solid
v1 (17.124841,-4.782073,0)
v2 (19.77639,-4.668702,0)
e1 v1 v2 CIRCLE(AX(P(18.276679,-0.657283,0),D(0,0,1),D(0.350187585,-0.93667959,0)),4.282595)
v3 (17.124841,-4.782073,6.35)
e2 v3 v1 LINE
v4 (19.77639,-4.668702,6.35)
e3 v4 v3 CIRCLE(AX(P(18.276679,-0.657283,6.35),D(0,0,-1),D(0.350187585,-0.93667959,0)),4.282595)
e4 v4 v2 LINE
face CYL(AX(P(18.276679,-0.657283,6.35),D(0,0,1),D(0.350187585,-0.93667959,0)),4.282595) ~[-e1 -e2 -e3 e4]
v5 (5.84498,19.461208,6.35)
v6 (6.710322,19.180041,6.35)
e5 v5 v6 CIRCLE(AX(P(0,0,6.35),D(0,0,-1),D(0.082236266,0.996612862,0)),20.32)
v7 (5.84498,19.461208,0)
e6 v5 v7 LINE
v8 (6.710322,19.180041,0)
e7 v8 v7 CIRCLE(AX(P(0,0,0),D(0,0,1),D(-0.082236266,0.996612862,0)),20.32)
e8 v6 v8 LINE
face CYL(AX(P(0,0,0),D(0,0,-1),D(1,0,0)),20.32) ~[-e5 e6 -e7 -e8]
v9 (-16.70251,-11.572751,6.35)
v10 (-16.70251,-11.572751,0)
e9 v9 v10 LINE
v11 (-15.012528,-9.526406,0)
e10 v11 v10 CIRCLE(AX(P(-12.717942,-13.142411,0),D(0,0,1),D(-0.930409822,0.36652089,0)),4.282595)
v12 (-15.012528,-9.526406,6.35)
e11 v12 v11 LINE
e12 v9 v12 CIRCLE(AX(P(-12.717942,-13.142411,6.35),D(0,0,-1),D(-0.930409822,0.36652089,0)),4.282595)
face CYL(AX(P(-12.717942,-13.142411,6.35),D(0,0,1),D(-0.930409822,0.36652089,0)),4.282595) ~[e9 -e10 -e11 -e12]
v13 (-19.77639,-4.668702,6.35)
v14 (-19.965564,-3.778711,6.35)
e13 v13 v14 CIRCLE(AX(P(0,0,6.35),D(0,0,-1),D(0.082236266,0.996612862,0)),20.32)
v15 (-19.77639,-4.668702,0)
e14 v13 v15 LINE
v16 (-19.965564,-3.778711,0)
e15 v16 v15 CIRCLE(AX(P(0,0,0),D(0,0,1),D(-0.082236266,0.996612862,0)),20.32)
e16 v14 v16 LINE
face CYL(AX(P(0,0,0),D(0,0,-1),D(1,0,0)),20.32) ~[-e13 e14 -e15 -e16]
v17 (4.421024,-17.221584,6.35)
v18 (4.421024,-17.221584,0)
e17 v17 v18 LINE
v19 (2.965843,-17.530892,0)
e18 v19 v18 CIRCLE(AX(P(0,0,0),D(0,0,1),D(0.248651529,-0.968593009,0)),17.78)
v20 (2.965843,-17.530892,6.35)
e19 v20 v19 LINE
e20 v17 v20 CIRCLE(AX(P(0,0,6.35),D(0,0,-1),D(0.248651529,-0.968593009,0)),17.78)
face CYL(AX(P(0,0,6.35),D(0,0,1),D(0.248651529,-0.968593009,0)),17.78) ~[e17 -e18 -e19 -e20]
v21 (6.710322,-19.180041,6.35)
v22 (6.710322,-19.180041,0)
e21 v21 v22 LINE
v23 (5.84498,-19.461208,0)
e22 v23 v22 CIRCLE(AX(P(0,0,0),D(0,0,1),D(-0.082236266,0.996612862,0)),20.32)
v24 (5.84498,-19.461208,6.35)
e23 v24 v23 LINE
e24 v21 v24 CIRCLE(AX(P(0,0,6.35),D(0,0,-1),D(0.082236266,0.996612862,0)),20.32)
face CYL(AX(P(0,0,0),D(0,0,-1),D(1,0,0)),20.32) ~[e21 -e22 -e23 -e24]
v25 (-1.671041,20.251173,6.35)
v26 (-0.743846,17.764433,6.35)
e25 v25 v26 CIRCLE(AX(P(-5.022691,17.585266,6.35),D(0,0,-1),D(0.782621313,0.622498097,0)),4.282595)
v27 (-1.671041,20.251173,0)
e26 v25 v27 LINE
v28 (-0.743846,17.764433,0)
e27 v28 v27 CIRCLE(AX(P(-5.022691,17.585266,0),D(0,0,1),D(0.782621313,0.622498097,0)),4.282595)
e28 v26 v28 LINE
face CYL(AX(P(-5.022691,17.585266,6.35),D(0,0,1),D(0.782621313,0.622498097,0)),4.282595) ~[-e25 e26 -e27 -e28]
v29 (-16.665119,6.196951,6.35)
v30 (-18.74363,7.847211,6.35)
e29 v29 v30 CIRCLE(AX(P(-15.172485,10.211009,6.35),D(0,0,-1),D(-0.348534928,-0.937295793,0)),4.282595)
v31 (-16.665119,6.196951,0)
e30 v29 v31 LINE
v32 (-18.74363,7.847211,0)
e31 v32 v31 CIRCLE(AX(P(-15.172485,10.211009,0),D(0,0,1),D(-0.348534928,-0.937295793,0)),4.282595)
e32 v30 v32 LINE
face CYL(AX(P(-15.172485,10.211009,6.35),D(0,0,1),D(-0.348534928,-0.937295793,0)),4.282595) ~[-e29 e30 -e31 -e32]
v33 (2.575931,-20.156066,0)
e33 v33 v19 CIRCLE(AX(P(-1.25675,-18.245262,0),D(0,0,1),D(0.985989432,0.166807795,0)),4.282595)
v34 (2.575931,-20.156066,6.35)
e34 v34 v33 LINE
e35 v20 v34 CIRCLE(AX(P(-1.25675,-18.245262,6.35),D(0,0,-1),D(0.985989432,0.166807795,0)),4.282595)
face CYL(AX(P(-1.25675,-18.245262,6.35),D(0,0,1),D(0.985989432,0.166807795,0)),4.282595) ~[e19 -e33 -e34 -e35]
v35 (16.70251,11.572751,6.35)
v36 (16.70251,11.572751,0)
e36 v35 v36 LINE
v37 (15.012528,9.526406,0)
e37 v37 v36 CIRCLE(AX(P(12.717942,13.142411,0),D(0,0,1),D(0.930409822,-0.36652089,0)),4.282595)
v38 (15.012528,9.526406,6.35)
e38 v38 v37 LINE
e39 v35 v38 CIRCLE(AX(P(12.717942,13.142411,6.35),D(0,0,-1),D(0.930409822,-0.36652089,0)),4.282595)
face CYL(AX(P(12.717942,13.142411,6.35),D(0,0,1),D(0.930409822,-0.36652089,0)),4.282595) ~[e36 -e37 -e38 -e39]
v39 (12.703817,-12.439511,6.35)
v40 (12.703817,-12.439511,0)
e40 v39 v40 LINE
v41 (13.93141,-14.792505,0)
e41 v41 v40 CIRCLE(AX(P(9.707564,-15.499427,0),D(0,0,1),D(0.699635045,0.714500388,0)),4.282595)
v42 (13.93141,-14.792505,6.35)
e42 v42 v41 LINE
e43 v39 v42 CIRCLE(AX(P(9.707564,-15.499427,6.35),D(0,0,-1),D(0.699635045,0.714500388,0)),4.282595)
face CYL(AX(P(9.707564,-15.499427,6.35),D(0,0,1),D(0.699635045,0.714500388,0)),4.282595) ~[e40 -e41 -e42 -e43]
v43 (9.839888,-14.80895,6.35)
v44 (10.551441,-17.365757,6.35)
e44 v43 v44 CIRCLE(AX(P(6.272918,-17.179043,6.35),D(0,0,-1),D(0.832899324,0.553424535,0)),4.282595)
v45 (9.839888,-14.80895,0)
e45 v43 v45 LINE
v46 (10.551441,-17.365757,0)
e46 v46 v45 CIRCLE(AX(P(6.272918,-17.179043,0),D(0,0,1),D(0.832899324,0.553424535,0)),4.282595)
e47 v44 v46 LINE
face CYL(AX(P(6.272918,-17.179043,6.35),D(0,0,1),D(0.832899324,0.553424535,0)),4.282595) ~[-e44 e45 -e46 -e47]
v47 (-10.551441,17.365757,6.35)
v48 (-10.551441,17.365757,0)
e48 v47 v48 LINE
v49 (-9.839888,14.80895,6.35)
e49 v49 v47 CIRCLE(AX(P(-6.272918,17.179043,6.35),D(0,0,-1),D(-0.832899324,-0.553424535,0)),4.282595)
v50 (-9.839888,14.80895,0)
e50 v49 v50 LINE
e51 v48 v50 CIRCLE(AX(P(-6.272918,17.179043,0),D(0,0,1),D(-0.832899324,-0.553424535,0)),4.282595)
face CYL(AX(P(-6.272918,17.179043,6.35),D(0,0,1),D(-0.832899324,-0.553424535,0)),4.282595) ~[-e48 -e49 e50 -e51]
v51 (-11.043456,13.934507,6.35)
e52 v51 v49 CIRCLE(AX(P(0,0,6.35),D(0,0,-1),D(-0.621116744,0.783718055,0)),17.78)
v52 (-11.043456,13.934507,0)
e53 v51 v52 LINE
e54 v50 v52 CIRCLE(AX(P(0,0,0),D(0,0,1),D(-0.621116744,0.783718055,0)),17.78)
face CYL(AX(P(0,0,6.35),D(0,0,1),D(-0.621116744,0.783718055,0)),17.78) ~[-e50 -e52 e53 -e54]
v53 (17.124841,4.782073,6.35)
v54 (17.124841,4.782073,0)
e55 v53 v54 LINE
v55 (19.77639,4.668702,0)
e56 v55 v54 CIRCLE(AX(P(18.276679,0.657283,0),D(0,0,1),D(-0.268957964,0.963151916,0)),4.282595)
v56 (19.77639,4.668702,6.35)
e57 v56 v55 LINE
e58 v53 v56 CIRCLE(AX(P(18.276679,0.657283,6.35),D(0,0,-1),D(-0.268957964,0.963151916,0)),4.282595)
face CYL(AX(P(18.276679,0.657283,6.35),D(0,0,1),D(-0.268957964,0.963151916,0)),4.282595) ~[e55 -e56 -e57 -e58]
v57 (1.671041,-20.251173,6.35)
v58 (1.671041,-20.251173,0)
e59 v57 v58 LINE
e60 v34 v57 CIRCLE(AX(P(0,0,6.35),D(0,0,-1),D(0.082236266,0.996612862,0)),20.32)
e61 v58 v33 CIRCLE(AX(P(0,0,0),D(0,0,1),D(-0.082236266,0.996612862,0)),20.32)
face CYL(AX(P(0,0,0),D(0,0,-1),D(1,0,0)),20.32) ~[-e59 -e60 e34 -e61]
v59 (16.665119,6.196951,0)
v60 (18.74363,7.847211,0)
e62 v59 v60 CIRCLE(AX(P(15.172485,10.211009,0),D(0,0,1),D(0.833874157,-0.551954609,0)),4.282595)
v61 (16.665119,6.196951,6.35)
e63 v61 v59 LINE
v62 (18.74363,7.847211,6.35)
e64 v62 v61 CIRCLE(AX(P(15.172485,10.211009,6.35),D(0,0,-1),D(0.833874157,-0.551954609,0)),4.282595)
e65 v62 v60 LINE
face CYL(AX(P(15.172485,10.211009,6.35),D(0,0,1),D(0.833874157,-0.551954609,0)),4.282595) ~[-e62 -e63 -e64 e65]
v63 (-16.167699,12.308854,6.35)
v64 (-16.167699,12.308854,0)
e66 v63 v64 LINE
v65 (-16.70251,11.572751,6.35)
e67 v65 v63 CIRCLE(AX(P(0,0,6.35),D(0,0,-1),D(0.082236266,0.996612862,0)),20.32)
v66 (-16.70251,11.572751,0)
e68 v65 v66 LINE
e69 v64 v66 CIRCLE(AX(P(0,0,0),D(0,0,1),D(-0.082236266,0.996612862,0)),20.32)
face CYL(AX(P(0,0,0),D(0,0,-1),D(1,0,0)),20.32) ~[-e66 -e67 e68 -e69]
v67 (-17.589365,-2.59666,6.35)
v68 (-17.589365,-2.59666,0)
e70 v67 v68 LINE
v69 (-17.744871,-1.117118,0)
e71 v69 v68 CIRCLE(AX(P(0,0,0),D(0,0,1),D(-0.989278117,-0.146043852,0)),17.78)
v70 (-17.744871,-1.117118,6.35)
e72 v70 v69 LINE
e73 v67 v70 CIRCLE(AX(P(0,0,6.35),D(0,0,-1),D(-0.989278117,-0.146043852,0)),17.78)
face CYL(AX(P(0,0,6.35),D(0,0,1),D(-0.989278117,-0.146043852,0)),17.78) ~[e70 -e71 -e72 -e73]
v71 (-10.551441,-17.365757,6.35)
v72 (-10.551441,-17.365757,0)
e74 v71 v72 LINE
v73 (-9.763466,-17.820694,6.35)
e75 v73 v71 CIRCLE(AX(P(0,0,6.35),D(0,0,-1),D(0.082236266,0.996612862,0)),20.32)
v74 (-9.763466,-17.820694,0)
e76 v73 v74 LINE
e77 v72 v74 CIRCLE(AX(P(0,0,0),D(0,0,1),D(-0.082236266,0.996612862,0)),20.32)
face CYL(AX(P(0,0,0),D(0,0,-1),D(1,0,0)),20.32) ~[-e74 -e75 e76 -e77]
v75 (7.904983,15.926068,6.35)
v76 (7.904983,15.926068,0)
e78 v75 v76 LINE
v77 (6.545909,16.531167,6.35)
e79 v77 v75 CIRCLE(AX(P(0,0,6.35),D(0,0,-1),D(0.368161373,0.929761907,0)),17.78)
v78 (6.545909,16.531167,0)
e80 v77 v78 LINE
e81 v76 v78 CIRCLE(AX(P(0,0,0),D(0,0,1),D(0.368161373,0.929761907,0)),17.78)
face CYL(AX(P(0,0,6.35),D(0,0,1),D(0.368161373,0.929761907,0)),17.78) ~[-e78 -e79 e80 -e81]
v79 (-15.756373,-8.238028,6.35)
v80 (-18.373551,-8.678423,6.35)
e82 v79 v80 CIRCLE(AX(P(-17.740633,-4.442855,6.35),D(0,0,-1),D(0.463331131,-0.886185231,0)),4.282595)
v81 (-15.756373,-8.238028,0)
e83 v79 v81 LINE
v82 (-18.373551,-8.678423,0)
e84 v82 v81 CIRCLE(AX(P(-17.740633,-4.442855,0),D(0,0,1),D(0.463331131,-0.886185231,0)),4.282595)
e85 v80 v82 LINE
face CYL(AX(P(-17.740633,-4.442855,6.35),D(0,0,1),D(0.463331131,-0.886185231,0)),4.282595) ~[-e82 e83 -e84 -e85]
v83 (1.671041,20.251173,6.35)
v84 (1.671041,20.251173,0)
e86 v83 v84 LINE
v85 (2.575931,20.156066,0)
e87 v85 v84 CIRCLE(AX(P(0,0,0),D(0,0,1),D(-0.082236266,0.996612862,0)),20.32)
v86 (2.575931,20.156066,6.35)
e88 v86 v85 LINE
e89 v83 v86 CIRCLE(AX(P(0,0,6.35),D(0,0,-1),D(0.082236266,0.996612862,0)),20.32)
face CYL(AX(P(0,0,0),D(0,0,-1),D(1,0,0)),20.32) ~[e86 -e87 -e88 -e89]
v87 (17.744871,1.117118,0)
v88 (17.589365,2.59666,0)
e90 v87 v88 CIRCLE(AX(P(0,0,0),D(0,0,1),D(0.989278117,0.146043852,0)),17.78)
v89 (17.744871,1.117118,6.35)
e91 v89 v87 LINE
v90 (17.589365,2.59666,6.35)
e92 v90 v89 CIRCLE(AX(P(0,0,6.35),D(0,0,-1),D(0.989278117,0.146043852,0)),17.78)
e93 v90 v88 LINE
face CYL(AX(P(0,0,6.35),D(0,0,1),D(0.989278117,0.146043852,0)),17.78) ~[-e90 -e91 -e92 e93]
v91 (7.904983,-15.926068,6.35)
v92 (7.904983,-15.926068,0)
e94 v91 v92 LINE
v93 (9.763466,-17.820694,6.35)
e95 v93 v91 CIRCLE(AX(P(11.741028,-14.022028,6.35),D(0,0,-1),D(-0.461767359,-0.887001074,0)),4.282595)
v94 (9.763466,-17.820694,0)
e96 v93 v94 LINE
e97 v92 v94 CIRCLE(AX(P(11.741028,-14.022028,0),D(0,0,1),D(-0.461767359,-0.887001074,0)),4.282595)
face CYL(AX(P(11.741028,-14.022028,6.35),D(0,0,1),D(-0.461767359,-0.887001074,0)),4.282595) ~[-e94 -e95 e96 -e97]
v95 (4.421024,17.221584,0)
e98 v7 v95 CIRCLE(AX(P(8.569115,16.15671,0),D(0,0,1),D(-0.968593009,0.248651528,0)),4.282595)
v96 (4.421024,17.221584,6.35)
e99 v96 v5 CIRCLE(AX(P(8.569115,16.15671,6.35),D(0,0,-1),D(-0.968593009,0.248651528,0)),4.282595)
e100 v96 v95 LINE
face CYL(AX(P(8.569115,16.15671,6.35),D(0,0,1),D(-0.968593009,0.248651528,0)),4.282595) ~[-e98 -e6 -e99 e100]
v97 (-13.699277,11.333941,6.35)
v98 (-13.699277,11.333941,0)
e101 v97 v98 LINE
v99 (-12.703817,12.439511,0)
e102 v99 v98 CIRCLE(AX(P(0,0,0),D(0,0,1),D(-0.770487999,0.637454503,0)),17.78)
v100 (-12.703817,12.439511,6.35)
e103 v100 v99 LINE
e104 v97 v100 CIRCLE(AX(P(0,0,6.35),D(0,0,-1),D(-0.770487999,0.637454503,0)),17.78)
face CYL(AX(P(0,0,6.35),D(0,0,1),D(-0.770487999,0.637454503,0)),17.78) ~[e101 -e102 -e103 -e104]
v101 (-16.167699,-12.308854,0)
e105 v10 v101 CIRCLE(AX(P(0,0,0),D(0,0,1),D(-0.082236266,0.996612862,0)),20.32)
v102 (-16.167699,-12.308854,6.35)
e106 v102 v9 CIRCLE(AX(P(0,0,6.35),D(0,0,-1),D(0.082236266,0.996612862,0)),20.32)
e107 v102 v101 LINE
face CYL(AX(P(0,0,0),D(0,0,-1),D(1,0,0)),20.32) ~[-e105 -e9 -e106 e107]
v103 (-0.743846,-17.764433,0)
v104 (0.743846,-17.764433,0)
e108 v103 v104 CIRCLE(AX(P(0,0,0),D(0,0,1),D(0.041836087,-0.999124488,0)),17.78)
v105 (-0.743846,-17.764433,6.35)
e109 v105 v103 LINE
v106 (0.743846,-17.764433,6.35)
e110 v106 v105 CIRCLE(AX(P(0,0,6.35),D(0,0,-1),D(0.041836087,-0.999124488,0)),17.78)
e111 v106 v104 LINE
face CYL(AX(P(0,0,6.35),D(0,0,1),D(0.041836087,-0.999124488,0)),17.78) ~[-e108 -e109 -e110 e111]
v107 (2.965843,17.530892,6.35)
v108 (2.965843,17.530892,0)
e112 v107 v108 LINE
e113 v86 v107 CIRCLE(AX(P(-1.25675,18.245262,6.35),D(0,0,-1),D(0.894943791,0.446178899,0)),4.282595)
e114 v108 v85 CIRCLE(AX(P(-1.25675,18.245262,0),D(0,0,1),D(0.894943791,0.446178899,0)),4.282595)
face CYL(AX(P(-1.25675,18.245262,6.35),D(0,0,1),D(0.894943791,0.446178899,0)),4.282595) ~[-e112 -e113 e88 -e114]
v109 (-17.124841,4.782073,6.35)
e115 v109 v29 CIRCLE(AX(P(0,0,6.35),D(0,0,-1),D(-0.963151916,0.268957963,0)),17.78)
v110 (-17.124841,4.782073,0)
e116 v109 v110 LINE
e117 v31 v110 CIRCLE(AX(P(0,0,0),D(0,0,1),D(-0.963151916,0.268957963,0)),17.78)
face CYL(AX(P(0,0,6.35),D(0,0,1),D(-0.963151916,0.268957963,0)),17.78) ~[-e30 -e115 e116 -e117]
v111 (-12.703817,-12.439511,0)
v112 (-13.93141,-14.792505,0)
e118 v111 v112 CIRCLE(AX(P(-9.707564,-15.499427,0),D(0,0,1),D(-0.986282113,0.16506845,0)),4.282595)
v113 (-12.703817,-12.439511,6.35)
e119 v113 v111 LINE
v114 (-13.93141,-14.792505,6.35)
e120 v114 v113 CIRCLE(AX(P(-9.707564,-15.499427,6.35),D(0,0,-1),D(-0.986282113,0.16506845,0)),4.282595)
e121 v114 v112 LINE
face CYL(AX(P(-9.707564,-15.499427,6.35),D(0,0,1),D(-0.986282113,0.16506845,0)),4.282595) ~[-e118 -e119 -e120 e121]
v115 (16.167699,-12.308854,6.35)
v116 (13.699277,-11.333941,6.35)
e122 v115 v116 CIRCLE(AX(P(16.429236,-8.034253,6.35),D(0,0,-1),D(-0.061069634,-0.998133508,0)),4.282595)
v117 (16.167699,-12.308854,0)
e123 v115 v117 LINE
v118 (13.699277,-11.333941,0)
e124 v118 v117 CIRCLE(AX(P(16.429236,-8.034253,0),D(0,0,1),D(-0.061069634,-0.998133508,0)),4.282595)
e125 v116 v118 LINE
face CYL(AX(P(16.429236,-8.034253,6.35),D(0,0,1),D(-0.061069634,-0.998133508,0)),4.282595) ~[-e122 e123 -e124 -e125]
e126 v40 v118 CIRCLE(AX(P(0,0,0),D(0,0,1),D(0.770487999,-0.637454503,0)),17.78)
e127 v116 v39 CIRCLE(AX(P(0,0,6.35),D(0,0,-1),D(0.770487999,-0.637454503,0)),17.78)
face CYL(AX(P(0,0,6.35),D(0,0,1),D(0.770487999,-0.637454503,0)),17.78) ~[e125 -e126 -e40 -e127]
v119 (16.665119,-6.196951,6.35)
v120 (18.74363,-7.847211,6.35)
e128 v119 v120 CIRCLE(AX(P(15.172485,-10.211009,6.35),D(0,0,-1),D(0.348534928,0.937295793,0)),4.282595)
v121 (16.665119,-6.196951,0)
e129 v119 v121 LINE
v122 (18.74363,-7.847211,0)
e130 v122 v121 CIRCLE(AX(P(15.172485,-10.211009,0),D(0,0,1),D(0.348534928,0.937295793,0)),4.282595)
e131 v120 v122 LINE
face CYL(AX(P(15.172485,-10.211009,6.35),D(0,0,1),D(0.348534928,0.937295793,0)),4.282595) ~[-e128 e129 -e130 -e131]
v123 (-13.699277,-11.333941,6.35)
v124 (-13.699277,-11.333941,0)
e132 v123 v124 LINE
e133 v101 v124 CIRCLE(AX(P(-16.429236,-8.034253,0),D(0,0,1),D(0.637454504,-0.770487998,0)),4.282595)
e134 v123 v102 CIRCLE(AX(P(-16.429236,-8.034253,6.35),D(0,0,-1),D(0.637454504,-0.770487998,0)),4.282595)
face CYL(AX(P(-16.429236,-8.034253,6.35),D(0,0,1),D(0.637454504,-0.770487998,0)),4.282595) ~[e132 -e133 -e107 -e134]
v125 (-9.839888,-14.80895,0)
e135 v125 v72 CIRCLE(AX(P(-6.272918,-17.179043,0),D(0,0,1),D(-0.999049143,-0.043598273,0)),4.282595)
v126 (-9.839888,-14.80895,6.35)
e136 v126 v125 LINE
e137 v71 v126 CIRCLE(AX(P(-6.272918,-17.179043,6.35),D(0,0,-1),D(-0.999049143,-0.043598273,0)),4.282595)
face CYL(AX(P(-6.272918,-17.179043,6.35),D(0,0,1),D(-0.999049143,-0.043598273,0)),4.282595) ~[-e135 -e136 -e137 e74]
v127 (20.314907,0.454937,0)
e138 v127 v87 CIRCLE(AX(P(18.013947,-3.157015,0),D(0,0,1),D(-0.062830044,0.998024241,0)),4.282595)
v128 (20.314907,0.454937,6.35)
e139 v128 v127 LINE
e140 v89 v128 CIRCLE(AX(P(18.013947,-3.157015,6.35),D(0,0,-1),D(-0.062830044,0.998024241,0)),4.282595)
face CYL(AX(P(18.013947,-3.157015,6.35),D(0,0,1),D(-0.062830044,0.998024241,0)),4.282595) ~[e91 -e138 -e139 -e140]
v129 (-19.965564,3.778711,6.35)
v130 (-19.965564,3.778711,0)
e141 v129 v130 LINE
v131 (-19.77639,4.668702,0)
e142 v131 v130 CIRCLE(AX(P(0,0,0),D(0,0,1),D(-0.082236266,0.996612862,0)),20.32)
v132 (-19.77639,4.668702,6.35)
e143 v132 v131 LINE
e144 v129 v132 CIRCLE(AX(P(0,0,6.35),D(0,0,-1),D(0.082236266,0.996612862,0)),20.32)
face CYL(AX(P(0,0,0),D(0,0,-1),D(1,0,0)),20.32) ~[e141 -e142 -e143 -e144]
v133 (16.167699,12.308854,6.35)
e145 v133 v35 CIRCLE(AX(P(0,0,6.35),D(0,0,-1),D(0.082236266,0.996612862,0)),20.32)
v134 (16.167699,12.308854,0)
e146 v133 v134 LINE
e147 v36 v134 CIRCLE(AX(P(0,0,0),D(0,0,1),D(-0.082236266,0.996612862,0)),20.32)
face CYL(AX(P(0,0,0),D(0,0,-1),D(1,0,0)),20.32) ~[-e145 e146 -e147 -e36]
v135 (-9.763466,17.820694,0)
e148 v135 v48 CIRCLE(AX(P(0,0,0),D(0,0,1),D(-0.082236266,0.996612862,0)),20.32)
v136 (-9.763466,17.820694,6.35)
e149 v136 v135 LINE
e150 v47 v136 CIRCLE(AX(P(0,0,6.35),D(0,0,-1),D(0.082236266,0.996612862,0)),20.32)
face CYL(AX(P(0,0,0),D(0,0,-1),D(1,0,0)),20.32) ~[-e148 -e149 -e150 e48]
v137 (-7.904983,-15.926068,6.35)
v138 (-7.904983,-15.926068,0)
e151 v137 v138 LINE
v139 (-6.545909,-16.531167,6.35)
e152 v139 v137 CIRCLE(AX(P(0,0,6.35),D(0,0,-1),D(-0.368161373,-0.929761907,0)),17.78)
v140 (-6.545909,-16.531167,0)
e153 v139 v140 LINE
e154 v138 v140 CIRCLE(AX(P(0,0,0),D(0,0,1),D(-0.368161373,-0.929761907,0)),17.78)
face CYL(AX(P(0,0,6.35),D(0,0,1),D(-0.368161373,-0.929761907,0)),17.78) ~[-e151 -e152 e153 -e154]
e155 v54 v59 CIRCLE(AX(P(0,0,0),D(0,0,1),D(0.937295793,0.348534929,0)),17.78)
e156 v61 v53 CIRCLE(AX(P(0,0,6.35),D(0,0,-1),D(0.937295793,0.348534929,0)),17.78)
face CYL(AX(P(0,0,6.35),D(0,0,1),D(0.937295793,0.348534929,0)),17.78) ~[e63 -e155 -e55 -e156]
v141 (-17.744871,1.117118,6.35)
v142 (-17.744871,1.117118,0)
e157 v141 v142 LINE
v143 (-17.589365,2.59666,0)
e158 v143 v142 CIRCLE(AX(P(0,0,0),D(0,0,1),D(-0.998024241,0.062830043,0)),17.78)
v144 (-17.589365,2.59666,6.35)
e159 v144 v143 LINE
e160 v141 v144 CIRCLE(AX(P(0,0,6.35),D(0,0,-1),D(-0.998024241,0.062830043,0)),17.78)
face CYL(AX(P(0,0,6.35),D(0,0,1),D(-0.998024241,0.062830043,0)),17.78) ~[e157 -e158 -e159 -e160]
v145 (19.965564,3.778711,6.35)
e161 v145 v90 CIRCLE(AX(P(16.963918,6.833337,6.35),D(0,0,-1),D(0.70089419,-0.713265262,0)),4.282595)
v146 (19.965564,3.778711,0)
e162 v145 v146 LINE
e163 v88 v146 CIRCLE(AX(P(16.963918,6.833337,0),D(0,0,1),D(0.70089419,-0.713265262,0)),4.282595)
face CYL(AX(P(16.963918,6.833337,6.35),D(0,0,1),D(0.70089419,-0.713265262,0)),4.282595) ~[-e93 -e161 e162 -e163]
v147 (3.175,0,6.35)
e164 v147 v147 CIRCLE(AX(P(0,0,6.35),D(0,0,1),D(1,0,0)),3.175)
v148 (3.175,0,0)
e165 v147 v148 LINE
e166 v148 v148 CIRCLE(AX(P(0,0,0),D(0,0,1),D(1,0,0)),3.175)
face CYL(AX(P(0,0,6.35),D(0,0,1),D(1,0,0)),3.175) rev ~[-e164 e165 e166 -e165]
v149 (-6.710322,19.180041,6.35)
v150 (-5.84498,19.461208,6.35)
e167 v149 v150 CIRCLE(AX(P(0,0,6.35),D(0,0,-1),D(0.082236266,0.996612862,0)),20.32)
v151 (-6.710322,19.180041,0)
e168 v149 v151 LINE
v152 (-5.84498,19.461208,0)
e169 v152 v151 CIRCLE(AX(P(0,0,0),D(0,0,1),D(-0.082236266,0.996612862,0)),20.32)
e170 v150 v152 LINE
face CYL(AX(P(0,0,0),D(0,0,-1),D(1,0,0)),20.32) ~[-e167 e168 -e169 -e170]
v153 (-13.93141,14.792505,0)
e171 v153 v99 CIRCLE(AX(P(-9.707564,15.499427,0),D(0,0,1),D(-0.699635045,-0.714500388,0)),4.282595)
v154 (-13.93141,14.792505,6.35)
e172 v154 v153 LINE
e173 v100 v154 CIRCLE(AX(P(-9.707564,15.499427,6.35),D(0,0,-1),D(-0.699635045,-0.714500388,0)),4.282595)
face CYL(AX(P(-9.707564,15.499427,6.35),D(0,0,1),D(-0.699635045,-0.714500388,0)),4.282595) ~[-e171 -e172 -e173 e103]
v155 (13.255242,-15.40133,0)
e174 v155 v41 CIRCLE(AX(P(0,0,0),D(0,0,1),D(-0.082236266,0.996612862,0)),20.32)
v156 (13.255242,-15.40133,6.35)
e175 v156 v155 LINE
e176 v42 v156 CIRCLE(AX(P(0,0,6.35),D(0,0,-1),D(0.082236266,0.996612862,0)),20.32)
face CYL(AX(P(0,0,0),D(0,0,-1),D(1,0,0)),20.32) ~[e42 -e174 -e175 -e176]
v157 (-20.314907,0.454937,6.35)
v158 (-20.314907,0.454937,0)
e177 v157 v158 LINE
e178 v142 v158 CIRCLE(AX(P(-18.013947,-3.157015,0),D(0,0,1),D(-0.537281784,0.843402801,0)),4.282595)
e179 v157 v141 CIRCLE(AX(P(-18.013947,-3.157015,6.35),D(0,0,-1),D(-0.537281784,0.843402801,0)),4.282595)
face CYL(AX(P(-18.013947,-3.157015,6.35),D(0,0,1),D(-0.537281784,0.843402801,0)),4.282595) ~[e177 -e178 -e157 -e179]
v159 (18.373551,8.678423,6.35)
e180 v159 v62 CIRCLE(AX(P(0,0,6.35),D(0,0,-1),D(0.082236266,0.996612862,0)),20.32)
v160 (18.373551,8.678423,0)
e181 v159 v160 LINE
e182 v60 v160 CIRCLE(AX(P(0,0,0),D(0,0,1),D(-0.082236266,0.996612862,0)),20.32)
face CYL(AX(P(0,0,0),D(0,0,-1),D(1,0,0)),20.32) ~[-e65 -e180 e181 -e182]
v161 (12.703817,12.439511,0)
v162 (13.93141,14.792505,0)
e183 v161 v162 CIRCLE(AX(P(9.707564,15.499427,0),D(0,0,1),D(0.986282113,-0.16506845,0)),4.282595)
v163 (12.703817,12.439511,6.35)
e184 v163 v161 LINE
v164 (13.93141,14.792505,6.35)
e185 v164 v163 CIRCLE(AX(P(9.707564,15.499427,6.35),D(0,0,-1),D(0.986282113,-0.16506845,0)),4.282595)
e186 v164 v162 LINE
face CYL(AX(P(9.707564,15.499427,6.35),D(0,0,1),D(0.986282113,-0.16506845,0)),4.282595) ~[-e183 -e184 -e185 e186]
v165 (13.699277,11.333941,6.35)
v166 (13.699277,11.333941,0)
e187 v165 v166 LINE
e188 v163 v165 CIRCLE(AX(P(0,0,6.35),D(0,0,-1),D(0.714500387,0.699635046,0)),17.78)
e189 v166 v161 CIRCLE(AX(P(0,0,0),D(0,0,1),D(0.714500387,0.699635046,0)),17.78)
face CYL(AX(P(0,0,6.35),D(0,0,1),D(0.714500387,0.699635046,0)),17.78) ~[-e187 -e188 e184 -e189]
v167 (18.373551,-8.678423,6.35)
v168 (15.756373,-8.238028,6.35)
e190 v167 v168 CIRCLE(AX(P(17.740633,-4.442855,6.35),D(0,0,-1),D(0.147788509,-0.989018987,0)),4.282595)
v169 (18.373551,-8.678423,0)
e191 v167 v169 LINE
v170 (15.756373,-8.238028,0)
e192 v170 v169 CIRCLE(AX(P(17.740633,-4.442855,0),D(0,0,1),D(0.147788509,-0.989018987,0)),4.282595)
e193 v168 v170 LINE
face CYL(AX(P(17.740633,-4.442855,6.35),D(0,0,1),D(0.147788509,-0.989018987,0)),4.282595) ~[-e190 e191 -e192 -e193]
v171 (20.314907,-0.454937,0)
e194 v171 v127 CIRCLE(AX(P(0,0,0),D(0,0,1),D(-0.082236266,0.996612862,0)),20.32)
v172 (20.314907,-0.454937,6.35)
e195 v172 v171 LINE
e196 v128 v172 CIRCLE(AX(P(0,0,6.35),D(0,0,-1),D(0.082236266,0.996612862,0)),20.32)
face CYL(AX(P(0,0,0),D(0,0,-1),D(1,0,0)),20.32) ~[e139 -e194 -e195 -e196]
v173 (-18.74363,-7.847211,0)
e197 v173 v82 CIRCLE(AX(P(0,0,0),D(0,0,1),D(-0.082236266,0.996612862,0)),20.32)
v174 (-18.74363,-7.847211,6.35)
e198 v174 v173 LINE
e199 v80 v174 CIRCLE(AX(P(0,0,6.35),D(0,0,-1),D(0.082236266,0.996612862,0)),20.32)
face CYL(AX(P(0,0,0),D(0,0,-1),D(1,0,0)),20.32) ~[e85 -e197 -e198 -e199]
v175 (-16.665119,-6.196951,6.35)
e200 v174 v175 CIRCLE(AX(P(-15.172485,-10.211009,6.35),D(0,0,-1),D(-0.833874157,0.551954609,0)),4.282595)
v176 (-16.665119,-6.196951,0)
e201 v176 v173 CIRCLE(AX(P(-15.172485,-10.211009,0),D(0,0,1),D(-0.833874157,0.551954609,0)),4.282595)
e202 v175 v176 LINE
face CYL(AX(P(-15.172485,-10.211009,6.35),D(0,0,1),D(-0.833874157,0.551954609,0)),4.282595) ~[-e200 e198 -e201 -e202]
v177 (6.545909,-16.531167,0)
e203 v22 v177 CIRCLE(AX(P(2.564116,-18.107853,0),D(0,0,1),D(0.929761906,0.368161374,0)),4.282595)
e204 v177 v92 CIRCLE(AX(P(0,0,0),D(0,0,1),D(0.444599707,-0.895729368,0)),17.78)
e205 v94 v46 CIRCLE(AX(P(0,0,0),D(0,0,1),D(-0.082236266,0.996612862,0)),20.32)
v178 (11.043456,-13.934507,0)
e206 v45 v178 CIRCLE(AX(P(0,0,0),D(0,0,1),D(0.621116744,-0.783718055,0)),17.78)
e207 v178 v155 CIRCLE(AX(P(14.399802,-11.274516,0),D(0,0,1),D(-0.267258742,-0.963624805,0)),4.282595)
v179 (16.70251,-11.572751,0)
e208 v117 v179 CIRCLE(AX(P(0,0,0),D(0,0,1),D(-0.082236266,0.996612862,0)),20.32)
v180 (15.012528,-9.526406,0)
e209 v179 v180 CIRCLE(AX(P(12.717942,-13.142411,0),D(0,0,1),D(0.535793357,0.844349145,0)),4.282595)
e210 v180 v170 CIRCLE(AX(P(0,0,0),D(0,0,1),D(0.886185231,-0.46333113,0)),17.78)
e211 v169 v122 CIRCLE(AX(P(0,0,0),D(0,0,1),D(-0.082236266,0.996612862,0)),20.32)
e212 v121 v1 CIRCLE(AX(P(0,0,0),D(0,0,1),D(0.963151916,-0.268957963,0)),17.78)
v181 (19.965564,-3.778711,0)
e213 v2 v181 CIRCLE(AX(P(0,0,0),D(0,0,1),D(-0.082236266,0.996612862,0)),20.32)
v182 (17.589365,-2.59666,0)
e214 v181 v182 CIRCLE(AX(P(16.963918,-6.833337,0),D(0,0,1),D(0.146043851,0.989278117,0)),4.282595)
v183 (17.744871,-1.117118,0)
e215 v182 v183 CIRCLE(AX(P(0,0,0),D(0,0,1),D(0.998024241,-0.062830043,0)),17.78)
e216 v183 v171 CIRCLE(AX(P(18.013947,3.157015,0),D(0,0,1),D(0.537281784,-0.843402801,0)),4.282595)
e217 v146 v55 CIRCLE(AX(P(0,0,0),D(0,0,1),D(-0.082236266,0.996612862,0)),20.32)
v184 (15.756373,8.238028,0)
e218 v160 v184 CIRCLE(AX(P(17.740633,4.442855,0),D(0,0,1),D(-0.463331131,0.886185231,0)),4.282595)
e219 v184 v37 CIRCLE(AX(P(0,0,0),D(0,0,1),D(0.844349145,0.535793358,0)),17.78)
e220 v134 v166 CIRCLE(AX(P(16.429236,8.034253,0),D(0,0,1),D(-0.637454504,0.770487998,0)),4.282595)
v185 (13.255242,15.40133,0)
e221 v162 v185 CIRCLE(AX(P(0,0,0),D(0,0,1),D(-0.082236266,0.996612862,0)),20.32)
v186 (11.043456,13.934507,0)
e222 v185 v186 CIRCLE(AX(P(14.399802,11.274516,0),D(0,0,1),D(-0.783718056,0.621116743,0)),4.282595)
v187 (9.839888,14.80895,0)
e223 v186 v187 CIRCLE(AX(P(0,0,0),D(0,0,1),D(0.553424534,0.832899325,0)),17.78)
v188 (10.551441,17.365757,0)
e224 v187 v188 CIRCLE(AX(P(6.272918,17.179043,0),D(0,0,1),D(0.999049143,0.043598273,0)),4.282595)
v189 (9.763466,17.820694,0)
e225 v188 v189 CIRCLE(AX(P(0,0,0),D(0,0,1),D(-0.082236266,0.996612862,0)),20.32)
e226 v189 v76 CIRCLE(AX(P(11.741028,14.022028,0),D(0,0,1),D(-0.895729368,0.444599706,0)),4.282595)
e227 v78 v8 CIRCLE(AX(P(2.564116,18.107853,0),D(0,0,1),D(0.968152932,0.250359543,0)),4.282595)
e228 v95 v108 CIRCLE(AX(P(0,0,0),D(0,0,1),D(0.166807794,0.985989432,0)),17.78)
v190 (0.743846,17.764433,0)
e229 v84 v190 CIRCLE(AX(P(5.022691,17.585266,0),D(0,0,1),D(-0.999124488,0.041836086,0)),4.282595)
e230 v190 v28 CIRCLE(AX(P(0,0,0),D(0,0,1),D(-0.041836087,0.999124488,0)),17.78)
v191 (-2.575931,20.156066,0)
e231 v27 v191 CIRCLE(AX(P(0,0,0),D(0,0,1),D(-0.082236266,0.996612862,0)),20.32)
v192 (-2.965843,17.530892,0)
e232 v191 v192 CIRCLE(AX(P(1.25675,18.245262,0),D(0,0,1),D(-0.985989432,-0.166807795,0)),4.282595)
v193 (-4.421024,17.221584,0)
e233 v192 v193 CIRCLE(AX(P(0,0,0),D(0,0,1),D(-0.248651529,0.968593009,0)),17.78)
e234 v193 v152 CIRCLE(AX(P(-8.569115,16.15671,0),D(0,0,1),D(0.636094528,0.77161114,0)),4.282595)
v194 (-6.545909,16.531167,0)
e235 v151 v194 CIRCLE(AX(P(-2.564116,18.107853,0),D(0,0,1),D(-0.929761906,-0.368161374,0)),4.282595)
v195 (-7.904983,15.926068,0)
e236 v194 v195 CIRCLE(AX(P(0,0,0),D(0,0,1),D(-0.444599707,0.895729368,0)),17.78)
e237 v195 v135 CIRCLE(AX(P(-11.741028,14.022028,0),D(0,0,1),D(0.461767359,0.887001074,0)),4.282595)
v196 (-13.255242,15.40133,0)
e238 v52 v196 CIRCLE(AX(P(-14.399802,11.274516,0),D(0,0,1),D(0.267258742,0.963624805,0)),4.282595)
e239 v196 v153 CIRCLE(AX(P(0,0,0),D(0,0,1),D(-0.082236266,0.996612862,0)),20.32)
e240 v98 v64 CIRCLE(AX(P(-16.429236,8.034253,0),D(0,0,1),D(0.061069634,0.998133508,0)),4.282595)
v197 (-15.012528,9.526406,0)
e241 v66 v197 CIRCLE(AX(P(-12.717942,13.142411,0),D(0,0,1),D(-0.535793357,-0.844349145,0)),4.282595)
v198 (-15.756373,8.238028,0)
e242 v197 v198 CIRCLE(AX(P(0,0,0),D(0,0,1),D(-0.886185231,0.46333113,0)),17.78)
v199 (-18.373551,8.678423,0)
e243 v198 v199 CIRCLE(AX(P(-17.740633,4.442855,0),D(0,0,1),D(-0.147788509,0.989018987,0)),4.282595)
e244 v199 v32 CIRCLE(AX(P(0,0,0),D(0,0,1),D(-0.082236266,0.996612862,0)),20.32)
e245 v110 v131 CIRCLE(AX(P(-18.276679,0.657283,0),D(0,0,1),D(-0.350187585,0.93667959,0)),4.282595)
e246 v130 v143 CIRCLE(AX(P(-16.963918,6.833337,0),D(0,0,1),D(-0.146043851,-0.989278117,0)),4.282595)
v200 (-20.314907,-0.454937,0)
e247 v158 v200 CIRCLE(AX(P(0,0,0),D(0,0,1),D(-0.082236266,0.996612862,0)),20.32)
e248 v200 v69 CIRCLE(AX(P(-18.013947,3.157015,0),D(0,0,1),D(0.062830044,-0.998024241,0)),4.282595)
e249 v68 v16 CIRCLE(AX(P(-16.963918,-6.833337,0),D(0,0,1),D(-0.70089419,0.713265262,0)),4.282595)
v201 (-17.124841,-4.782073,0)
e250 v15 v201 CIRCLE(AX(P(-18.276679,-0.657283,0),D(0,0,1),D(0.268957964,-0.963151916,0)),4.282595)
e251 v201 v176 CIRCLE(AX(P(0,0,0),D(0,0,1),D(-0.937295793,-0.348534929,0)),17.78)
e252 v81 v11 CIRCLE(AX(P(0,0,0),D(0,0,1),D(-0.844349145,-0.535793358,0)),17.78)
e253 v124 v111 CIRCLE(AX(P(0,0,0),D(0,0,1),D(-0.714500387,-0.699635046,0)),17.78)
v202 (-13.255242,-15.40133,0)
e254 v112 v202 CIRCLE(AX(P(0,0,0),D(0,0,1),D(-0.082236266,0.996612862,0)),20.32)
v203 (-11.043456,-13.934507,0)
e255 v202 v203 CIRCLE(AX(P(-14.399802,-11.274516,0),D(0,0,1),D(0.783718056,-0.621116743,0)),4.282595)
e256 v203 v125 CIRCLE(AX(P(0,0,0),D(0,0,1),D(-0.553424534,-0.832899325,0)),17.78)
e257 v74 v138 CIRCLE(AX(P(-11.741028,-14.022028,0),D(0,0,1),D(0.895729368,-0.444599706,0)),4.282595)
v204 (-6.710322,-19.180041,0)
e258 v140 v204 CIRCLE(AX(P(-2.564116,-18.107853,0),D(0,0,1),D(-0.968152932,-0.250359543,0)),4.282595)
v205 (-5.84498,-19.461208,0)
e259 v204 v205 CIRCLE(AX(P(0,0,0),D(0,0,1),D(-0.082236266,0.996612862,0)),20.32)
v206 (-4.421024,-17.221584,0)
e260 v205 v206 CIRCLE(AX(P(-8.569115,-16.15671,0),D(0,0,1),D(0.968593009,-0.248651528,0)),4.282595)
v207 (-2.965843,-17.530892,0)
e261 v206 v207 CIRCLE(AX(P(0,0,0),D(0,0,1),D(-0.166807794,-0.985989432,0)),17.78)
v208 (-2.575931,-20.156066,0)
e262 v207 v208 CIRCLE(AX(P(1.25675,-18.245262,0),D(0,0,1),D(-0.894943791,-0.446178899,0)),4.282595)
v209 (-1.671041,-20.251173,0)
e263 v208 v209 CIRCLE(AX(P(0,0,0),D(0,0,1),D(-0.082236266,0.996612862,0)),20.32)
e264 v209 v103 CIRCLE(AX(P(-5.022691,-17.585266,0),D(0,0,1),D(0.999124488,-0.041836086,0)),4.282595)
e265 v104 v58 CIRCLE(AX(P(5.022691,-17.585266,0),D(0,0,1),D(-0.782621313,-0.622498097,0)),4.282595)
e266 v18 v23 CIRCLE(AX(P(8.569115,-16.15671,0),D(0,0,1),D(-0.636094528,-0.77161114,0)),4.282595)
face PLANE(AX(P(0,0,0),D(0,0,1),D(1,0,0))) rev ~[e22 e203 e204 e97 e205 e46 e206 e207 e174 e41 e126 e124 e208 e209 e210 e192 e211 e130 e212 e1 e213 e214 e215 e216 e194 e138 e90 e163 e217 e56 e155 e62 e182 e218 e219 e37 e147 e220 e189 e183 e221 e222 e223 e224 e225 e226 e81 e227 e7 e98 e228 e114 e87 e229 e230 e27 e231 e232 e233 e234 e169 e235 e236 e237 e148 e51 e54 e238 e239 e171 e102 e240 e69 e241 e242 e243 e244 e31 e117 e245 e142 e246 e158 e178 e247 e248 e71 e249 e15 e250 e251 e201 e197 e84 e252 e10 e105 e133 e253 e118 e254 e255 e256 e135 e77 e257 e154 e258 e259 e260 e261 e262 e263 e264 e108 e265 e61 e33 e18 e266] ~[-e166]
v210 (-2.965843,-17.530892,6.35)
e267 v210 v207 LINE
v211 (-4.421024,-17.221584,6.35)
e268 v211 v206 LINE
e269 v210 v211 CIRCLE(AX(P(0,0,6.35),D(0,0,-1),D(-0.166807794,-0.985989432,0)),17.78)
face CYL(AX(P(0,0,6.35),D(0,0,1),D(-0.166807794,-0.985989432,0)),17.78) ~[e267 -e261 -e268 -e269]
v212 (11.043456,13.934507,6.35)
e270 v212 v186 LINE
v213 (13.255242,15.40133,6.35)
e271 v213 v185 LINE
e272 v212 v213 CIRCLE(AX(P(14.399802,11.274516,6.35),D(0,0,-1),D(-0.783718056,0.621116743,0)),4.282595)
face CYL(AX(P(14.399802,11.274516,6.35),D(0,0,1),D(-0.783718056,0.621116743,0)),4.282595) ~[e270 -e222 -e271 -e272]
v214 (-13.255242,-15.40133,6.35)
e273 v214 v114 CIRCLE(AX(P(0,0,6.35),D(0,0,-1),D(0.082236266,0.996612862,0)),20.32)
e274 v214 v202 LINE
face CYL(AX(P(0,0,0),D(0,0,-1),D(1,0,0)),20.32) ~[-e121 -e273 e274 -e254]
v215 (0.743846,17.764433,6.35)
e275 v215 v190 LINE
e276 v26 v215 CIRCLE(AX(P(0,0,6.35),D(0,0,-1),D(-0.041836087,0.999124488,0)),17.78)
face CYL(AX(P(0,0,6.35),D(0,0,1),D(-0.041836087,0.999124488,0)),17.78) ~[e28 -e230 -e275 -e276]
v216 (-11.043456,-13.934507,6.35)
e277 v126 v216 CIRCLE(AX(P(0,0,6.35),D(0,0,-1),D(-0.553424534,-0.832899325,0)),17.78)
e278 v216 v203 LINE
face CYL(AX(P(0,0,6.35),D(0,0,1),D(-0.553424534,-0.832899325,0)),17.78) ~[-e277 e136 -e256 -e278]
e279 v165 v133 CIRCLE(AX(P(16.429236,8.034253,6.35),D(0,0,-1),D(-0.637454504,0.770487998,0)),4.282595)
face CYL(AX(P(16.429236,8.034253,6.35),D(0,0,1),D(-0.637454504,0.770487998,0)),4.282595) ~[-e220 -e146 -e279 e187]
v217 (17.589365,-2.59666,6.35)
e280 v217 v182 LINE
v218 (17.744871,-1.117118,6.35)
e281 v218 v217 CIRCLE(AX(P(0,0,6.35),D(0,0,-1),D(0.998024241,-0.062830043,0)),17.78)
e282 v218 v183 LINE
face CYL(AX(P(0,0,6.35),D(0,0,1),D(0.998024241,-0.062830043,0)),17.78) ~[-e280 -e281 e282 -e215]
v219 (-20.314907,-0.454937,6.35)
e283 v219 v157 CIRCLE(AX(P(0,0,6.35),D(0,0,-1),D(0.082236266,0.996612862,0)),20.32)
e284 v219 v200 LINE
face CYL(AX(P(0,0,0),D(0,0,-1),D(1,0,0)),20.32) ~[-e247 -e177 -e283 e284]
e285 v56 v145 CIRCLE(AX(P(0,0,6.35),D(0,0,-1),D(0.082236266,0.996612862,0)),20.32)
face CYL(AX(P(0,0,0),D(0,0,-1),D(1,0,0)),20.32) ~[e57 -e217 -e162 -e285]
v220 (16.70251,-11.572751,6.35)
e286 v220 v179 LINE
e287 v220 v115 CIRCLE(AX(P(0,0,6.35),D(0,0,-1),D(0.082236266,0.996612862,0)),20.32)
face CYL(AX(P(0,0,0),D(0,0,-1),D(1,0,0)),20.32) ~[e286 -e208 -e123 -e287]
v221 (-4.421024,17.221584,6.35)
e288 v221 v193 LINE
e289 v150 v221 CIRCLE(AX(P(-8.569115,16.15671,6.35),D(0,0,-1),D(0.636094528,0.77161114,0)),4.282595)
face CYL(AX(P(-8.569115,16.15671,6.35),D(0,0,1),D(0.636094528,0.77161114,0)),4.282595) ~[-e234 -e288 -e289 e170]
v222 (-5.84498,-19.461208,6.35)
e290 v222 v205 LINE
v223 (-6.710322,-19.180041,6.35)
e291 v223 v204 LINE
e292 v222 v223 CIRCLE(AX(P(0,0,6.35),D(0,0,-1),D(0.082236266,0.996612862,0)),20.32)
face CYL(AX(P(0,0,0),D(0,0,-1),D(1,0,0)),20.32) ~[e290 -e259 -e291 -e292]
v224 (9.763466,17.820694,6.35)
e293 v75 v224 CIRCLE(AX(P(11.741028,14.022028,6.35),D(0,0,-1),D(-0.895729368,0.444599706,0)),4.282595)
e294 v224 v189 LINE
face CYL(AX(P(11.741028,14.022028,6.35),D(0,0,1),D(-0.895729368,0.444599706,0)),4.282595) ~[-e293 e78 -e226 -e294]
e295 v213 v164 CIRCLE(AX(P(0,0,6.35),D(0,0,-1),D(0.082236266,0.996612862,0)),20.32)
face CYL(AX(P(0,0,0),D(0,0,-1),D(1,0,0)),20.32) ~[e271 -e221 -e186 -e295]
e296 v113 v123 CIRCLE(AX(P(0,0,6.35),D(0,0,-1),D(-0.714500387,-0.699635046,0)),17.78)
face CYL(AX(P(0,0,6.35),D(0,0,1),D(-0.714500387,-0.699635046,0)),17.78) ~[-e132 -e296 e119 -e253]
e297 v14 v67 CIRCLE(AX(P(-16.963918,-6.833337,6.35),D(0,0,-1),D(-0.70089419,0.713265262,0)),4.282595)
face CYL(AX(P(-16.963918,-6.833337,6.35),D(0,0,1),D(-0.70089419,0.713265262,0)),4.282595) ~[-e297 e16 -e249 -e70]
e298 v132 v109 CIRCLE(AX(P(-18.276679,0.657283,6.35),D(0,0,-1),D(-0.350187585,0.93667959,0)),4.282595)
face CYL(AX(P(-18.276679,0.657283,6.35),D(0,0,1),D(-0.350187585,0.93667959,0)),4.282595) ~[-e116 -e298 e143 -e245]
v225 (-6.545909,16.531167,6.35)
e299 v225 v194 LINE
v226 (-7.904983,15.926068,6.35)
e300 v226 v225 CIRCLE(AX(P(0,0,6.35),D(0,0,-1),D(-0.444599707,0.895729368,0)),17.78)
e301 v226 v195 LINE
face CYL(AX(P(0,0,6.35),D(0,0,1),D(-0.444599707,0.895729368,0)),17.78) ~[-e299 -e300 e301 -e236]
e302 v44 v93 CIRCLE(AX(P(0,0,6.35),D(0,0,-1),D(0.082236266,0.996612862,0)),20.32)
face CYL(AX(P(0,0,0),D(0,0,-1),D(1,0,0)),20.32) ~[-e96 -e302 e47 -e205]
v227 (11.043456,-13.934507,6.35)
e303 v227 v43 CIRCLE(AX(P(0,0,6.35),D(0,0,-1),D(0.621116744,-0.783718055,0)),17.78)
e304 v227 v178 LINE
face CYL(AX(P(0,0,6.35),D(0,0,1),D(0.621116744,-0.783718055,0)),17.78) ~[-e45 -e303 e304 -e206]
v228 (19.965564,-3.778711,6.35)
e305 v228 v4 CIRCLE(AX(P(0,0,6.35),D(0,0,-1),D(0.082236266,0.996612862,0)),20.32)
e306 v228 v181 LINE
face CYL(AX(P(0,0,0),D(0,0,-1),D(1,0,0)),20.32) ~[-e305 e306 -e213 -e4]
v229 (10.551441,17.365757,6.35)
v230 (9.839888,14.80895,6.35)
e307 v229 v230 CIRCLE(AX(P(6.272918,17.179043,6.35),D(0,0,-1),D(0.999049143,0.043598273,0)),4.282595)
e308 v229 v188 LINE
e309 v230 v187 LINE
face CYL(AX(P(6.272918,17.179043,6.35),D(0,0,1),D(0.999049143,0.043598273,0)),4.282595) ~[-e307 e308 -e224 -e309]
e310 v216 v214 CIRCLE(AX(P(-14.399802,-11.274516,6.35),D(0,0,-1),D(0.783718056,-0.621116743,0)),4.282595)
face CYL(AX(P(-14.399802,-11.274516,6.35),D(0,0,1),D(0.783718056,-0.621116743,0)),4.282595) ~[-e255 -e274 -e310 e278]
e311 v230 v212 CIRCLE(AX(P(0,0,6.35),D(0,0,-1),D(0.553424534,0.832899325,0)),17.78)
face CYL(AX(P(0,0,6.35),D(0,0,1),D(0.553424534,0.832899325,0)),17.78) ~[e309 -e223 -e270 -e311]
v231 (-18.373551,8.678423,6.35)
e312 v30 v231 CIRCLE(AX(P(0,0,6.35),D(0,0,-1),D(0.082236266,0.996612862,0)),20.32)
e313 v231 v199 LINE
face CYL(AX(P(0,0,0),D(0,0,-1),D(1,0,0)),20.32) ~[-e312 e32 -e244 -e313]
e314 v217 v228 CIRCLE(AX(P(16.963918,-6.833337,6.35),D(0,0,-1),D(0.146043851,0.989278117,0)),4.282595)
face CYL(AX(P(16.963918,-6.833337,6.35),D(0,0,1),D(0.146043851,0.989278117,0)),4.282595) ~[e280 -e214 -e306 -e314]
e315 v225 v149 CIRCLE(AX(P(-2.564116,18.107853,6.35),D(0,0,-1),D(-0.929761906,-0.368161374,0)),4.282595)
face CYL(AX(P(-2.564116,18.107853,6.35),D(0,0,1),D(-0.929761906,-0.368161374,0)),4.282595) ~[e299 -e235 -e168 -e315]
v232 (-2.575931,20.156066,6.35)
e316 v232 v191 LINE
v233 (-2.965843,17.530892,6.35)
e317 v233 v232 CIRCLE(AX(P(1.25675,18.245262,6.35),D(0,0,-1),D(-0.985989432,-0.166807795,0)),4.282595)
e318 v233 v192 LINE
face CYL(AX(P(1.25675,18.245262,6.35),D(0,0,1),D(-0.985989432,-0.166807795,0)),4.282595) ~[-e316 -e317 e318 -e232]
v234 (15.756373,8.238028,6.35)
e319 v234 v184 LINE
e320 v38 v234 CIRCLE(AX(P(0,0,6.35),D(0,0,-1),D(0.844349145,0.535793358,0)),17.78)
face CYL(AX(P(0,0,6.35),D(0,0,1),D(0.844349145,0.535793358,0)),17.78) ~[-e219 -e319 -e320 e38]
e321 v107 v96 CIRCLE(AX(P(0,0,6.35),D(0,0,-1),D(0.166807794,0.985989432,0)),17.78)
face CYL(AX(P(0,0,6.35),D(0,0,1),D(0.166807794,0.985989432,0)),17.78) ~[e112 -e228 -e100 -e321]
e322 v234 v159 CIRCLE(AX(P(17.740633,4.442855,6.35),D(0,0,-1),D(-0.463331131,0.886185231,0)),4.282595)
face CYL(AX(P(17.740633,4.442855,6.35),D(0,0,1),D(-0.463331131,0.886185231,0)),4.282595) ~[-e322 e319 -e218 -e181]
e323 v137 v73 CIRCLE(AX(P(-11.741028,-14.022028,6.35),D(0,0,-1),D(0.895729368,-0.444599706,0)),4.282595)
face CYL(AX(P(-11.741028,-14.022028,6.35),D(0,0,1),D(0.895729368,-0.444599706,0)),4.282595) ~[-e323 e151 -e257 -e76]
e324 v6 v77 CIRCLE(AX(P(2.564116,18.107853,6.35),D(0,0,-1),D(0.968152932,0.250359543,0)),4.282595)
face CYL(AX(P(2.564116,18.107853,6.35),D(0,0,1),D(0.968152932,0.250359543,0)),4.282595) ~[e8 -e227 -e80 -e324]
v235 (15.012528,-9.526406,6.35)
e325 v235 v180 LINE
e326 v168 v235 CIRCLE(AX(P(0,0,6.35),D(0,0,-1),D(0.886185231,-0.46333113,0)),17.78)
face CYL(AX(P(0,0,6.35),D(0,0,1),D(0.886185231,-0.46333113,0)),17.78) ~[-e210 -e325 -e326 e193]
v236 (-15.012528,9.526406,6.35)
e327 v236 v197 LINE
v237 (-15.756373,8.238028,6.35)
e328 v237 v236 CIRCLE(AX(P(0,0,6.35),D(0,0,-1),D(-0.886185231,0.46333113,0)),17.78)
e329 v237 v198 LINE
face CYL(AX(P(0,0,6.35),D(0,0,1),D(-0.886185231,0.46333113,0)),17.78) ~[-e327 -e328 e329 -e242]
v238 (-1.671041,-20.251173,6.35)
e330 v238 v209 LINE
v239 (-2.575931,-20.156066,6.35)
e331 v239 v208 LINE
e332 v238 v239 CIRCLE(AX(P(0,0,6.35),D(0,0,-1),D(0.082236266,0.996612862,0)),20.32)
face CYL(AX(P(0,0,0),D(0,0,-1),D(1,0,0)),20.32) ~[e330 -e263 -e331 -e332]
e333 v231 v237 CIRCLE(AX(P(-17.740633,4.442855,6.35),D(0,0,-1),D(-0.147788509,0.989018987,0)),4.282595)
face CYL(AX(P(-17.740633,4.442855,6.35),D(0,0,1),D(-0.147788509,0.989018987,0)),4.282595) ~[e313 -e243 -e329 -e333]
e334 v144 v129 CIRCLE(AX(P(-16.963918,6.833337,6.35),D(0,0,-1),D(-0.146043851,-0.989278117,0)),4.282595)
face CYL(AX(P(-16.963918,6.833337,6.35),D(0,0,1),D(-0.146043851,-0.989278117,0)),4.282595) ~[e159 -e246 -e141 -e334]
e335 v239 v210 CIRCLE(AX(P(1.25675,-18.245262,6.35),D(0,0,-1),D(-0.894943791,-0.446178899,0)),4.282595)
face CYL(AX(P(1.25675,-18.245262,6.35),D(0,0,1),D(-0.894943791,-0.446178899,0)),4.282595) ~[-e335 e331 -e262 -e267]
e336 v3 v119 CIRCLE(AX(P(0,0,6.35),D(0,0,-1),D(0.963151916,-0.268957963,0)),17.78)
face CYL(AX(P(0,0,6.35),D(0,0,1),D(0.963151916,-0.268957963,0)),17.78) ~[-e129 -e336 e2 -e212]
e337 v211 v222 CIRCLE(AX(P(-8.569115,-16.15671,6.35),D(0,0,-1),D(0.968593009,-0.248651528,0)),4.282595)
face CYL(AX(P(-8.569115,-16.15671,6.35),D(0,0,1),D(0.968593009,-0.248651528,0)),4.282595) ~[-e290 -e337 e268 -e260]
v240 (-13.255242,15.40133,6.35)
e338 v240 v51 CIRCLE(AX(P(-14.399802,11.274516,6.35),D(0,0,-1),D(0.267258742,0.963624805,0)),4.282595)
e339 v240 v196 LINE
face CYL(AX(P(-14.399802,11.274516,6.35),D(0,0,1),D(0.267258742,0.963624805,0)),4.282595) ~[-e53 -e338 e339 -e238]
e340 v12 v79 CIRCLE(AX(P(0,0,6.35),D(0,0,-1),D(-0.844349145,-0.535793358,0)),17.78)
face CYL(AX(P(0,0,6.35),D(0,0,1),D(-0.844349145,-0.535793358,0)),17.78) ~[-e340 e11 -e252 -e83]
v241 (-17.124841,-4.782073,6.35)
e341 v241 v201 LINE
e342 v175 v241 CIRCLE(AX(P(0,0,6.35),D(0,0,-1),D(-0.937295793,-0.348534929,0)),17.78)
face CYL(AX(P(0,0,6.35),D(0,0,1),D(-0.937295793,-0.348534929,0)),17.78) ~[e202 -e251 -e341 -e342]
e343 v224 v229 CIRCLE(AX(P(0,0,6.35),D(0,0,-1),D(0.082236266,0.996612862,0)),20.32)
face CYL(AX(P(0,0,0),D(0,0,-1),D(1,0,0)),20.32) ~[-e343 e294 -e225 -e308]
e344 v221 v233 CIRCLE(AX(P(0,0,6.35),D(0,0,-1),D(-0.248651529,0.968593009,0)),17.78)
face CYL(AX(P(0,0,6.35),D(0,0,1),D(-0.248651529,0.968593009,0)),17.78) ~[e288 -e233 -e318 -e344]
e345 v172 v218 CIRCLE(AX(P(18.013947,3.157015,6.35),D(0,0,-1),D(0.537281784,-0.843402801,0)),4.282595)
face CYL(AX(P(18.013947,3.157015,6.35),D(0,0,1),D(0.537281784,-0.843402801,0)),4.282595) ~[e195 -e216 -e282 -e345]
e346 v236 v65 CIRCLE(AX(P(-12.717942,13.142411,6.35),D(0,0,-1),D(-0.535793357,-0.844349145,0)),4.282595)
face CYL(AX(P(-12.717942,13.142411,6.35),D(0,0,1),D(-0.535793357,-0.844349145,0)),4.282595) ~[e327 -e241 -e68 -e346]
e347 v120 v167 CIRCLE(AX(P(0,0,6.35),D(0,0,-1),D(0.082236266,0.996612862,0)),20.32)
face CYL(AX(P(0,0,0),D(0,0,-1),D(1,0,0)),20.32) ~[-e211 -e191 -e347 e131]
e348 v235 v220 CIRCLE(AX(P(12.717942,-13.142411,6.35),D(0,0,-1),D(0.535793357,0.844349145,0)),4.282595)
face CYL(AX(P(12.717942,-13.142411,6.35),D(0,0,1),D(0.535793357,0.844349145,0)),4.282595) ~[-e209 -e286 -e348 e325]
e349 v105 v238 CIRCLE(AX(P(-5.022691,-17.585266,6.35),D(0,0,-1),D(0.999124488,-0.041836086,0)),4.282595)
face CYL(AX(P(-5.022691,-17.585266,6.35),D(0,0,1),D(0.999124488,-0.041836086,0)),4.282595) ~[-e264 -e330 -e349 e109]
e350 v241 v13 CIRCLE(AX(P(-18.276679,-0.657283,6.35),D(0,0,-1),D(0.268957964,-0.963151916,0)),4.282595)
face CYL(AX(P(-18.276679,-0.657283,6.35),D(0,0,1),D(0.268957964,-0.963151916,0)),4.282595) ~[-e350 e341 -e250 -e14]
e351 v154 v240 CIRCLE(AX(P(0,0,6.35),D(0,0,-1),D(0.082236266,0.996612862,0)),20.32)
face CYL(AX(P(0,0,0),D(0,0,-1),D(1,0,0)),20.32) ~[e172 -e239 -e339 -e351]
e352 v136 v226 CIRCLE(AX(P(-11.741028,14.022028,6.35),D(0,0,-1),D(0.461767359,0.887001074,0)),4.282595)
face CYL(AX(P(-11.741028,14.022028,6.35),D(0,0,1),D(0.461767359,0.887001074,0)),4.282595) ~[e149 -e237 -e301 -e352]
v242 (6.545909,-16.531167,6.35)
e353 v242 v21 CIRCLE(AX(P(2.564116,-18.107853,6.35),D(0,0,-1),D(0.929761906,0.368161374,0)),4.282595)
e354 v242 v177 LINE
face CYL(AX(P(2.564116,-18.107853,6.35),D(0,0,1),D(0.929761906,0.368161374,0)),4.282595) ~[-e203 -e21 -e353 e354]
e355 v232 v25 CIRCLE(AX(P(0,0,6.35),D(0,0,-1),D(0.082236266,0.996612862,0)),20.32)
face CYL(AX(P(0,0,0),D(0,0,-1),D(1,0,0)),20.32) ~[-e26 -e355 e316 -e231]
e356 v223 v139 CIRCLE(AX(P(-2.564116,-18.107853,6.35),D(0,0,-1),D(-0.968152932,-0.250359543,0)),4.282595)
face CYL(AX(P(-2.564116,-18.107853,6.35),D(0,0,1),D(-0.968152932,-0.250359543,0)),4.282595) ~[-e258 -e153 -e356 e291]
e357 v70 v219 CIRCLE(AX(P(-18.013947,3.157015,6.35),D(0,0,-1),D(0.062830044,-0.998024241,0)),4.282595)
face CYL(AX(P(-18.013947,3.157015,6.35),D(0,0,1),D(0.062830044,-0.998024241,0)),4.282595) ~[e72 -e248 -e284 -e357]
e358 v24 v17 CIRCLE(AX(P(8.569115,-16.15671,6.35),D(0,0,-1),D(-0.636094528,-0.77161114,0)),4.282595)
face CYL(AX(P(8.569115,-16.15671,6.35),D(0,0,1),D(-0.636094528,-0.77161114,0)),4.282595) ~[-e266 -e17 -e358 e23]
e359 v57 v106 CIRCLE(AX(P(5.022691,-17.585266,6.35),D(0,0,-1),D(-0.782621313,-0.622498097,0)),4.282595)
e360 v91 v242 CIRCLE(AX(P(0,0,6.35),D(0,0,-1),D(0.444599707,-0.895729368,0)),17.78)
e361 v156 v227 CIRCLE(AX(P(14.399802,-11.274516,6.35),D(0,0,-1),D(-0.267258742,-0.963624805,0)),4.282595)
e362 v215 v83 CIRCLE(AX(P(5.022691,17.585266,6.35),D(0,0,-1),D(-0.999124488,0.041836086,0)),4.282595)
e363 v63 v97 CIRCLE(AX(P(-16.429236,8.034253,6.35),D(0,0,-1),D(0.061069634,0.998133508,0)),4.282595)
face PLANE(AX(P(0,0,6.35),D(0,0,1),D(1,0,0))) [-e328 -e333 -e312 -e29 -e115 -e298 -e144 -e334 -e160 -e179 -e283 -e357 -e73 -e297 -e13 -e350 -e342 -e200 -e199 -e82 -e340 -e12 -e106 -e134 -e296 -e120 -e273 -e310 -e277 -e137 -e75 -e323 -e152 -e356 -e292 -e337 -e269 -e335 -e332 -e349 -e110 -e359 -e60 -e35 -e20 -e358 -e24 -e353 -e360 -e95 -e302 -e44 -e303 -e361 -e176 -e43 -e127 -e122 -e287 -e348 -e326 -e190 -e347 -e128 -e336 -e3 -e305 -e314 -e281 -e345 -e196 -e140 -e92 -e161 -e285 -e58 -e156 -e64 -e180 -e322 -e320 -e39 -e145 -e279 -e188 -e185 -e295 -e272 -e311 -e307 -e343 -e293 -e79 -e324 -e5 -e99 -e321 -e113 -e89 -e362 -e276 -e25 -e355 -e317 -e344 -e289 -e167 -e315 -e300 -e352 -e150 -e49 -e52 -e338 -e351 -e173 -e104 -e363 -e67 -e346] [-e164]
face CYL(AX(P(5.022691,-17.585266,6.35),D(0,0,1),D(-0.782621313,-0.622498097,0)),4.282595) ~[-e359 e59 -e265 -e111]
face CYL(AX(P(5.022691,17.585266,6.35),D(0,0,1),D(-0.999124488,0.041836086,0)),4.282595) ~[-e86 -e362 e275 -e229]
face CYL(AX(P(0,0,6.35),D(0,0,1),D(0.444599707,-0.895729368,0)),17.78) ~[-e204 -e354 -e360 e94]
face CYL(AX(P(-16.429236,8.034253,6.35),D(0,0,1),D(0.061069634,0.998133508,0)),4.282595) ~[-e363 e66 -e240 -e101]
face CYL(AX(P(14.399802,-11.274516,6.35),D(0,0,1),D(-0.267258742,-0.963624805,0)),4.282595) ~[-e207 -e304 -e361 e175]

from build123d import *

# Parameters (mm, degrees)
SKETCH1_R           = 20.32
OUTER_CIRCLE_DEPTH  = 6.35
TOOTH_CUT_DEPTH     = 30.430040775
TEETH_PATTERN_COUNT = 30
SKETCH3_R           = 3.175
CUT_EXTRUDE1_DEPTH  = 30.382561533


with BuildPart() as part:
    # Sketch1 → Outer Circle (new body)
    with BuildSketch(Plane.XY):
        Circle(SKETCH1_R)
    extrude(amount=OUTER_CIRCLE_DEPTH)

    # Sketch2 → Tooth Cut (cut, through all)
    with BuildSketch(Plane.XY.offset(6.35)):
        with BuildLine():
            ThreePointArc((-0.743845606, 17.764433391), (0, 17.78), (0.743845606, 17.764433391))
            ThreePointArc((0.743845606, 17.764433391), (1.009950749, 19.081439594), (1.671040922, 20.251173355))
            ThreePointArc((1.671040922, 20.251173355), (0, 20.32), (-1.671040922, 20.251173355))
            ThreePointArc((-1.671040922, 20.251173355), (-1.009950749, 19.081439594), (-0.743845606, 17.764433391))
        make_face()
    tooth_cut = extrude(amount=-TOOTH_CUT_DEPTH, mode=Mode.SUBTRACT)

    # Teeth Pattern: Tooth Cut ×30 about axis
    teeth_pattern_axis = Axis((0, 0, 0), (0, 0, 1))
    for i in range(1, TEETH_PATTERN_COUNT):
        add(tooth_cut.rotate(teeth_pattern_axis, i * 360 / TEETH_PATTERN_COUNT), mode=Mode.SUBTRACT)

    # Sketch3 → Cut-Extrude1 (cut, through all)
    with BuildSketch(Plane.XY.offset(6.35)):
        Circle(SKETCH3_R)
    extrude(amount=-CUT_EXTRUDE1_DEPTH, mode=Mode.SUBTRACT)


solid = part.part
